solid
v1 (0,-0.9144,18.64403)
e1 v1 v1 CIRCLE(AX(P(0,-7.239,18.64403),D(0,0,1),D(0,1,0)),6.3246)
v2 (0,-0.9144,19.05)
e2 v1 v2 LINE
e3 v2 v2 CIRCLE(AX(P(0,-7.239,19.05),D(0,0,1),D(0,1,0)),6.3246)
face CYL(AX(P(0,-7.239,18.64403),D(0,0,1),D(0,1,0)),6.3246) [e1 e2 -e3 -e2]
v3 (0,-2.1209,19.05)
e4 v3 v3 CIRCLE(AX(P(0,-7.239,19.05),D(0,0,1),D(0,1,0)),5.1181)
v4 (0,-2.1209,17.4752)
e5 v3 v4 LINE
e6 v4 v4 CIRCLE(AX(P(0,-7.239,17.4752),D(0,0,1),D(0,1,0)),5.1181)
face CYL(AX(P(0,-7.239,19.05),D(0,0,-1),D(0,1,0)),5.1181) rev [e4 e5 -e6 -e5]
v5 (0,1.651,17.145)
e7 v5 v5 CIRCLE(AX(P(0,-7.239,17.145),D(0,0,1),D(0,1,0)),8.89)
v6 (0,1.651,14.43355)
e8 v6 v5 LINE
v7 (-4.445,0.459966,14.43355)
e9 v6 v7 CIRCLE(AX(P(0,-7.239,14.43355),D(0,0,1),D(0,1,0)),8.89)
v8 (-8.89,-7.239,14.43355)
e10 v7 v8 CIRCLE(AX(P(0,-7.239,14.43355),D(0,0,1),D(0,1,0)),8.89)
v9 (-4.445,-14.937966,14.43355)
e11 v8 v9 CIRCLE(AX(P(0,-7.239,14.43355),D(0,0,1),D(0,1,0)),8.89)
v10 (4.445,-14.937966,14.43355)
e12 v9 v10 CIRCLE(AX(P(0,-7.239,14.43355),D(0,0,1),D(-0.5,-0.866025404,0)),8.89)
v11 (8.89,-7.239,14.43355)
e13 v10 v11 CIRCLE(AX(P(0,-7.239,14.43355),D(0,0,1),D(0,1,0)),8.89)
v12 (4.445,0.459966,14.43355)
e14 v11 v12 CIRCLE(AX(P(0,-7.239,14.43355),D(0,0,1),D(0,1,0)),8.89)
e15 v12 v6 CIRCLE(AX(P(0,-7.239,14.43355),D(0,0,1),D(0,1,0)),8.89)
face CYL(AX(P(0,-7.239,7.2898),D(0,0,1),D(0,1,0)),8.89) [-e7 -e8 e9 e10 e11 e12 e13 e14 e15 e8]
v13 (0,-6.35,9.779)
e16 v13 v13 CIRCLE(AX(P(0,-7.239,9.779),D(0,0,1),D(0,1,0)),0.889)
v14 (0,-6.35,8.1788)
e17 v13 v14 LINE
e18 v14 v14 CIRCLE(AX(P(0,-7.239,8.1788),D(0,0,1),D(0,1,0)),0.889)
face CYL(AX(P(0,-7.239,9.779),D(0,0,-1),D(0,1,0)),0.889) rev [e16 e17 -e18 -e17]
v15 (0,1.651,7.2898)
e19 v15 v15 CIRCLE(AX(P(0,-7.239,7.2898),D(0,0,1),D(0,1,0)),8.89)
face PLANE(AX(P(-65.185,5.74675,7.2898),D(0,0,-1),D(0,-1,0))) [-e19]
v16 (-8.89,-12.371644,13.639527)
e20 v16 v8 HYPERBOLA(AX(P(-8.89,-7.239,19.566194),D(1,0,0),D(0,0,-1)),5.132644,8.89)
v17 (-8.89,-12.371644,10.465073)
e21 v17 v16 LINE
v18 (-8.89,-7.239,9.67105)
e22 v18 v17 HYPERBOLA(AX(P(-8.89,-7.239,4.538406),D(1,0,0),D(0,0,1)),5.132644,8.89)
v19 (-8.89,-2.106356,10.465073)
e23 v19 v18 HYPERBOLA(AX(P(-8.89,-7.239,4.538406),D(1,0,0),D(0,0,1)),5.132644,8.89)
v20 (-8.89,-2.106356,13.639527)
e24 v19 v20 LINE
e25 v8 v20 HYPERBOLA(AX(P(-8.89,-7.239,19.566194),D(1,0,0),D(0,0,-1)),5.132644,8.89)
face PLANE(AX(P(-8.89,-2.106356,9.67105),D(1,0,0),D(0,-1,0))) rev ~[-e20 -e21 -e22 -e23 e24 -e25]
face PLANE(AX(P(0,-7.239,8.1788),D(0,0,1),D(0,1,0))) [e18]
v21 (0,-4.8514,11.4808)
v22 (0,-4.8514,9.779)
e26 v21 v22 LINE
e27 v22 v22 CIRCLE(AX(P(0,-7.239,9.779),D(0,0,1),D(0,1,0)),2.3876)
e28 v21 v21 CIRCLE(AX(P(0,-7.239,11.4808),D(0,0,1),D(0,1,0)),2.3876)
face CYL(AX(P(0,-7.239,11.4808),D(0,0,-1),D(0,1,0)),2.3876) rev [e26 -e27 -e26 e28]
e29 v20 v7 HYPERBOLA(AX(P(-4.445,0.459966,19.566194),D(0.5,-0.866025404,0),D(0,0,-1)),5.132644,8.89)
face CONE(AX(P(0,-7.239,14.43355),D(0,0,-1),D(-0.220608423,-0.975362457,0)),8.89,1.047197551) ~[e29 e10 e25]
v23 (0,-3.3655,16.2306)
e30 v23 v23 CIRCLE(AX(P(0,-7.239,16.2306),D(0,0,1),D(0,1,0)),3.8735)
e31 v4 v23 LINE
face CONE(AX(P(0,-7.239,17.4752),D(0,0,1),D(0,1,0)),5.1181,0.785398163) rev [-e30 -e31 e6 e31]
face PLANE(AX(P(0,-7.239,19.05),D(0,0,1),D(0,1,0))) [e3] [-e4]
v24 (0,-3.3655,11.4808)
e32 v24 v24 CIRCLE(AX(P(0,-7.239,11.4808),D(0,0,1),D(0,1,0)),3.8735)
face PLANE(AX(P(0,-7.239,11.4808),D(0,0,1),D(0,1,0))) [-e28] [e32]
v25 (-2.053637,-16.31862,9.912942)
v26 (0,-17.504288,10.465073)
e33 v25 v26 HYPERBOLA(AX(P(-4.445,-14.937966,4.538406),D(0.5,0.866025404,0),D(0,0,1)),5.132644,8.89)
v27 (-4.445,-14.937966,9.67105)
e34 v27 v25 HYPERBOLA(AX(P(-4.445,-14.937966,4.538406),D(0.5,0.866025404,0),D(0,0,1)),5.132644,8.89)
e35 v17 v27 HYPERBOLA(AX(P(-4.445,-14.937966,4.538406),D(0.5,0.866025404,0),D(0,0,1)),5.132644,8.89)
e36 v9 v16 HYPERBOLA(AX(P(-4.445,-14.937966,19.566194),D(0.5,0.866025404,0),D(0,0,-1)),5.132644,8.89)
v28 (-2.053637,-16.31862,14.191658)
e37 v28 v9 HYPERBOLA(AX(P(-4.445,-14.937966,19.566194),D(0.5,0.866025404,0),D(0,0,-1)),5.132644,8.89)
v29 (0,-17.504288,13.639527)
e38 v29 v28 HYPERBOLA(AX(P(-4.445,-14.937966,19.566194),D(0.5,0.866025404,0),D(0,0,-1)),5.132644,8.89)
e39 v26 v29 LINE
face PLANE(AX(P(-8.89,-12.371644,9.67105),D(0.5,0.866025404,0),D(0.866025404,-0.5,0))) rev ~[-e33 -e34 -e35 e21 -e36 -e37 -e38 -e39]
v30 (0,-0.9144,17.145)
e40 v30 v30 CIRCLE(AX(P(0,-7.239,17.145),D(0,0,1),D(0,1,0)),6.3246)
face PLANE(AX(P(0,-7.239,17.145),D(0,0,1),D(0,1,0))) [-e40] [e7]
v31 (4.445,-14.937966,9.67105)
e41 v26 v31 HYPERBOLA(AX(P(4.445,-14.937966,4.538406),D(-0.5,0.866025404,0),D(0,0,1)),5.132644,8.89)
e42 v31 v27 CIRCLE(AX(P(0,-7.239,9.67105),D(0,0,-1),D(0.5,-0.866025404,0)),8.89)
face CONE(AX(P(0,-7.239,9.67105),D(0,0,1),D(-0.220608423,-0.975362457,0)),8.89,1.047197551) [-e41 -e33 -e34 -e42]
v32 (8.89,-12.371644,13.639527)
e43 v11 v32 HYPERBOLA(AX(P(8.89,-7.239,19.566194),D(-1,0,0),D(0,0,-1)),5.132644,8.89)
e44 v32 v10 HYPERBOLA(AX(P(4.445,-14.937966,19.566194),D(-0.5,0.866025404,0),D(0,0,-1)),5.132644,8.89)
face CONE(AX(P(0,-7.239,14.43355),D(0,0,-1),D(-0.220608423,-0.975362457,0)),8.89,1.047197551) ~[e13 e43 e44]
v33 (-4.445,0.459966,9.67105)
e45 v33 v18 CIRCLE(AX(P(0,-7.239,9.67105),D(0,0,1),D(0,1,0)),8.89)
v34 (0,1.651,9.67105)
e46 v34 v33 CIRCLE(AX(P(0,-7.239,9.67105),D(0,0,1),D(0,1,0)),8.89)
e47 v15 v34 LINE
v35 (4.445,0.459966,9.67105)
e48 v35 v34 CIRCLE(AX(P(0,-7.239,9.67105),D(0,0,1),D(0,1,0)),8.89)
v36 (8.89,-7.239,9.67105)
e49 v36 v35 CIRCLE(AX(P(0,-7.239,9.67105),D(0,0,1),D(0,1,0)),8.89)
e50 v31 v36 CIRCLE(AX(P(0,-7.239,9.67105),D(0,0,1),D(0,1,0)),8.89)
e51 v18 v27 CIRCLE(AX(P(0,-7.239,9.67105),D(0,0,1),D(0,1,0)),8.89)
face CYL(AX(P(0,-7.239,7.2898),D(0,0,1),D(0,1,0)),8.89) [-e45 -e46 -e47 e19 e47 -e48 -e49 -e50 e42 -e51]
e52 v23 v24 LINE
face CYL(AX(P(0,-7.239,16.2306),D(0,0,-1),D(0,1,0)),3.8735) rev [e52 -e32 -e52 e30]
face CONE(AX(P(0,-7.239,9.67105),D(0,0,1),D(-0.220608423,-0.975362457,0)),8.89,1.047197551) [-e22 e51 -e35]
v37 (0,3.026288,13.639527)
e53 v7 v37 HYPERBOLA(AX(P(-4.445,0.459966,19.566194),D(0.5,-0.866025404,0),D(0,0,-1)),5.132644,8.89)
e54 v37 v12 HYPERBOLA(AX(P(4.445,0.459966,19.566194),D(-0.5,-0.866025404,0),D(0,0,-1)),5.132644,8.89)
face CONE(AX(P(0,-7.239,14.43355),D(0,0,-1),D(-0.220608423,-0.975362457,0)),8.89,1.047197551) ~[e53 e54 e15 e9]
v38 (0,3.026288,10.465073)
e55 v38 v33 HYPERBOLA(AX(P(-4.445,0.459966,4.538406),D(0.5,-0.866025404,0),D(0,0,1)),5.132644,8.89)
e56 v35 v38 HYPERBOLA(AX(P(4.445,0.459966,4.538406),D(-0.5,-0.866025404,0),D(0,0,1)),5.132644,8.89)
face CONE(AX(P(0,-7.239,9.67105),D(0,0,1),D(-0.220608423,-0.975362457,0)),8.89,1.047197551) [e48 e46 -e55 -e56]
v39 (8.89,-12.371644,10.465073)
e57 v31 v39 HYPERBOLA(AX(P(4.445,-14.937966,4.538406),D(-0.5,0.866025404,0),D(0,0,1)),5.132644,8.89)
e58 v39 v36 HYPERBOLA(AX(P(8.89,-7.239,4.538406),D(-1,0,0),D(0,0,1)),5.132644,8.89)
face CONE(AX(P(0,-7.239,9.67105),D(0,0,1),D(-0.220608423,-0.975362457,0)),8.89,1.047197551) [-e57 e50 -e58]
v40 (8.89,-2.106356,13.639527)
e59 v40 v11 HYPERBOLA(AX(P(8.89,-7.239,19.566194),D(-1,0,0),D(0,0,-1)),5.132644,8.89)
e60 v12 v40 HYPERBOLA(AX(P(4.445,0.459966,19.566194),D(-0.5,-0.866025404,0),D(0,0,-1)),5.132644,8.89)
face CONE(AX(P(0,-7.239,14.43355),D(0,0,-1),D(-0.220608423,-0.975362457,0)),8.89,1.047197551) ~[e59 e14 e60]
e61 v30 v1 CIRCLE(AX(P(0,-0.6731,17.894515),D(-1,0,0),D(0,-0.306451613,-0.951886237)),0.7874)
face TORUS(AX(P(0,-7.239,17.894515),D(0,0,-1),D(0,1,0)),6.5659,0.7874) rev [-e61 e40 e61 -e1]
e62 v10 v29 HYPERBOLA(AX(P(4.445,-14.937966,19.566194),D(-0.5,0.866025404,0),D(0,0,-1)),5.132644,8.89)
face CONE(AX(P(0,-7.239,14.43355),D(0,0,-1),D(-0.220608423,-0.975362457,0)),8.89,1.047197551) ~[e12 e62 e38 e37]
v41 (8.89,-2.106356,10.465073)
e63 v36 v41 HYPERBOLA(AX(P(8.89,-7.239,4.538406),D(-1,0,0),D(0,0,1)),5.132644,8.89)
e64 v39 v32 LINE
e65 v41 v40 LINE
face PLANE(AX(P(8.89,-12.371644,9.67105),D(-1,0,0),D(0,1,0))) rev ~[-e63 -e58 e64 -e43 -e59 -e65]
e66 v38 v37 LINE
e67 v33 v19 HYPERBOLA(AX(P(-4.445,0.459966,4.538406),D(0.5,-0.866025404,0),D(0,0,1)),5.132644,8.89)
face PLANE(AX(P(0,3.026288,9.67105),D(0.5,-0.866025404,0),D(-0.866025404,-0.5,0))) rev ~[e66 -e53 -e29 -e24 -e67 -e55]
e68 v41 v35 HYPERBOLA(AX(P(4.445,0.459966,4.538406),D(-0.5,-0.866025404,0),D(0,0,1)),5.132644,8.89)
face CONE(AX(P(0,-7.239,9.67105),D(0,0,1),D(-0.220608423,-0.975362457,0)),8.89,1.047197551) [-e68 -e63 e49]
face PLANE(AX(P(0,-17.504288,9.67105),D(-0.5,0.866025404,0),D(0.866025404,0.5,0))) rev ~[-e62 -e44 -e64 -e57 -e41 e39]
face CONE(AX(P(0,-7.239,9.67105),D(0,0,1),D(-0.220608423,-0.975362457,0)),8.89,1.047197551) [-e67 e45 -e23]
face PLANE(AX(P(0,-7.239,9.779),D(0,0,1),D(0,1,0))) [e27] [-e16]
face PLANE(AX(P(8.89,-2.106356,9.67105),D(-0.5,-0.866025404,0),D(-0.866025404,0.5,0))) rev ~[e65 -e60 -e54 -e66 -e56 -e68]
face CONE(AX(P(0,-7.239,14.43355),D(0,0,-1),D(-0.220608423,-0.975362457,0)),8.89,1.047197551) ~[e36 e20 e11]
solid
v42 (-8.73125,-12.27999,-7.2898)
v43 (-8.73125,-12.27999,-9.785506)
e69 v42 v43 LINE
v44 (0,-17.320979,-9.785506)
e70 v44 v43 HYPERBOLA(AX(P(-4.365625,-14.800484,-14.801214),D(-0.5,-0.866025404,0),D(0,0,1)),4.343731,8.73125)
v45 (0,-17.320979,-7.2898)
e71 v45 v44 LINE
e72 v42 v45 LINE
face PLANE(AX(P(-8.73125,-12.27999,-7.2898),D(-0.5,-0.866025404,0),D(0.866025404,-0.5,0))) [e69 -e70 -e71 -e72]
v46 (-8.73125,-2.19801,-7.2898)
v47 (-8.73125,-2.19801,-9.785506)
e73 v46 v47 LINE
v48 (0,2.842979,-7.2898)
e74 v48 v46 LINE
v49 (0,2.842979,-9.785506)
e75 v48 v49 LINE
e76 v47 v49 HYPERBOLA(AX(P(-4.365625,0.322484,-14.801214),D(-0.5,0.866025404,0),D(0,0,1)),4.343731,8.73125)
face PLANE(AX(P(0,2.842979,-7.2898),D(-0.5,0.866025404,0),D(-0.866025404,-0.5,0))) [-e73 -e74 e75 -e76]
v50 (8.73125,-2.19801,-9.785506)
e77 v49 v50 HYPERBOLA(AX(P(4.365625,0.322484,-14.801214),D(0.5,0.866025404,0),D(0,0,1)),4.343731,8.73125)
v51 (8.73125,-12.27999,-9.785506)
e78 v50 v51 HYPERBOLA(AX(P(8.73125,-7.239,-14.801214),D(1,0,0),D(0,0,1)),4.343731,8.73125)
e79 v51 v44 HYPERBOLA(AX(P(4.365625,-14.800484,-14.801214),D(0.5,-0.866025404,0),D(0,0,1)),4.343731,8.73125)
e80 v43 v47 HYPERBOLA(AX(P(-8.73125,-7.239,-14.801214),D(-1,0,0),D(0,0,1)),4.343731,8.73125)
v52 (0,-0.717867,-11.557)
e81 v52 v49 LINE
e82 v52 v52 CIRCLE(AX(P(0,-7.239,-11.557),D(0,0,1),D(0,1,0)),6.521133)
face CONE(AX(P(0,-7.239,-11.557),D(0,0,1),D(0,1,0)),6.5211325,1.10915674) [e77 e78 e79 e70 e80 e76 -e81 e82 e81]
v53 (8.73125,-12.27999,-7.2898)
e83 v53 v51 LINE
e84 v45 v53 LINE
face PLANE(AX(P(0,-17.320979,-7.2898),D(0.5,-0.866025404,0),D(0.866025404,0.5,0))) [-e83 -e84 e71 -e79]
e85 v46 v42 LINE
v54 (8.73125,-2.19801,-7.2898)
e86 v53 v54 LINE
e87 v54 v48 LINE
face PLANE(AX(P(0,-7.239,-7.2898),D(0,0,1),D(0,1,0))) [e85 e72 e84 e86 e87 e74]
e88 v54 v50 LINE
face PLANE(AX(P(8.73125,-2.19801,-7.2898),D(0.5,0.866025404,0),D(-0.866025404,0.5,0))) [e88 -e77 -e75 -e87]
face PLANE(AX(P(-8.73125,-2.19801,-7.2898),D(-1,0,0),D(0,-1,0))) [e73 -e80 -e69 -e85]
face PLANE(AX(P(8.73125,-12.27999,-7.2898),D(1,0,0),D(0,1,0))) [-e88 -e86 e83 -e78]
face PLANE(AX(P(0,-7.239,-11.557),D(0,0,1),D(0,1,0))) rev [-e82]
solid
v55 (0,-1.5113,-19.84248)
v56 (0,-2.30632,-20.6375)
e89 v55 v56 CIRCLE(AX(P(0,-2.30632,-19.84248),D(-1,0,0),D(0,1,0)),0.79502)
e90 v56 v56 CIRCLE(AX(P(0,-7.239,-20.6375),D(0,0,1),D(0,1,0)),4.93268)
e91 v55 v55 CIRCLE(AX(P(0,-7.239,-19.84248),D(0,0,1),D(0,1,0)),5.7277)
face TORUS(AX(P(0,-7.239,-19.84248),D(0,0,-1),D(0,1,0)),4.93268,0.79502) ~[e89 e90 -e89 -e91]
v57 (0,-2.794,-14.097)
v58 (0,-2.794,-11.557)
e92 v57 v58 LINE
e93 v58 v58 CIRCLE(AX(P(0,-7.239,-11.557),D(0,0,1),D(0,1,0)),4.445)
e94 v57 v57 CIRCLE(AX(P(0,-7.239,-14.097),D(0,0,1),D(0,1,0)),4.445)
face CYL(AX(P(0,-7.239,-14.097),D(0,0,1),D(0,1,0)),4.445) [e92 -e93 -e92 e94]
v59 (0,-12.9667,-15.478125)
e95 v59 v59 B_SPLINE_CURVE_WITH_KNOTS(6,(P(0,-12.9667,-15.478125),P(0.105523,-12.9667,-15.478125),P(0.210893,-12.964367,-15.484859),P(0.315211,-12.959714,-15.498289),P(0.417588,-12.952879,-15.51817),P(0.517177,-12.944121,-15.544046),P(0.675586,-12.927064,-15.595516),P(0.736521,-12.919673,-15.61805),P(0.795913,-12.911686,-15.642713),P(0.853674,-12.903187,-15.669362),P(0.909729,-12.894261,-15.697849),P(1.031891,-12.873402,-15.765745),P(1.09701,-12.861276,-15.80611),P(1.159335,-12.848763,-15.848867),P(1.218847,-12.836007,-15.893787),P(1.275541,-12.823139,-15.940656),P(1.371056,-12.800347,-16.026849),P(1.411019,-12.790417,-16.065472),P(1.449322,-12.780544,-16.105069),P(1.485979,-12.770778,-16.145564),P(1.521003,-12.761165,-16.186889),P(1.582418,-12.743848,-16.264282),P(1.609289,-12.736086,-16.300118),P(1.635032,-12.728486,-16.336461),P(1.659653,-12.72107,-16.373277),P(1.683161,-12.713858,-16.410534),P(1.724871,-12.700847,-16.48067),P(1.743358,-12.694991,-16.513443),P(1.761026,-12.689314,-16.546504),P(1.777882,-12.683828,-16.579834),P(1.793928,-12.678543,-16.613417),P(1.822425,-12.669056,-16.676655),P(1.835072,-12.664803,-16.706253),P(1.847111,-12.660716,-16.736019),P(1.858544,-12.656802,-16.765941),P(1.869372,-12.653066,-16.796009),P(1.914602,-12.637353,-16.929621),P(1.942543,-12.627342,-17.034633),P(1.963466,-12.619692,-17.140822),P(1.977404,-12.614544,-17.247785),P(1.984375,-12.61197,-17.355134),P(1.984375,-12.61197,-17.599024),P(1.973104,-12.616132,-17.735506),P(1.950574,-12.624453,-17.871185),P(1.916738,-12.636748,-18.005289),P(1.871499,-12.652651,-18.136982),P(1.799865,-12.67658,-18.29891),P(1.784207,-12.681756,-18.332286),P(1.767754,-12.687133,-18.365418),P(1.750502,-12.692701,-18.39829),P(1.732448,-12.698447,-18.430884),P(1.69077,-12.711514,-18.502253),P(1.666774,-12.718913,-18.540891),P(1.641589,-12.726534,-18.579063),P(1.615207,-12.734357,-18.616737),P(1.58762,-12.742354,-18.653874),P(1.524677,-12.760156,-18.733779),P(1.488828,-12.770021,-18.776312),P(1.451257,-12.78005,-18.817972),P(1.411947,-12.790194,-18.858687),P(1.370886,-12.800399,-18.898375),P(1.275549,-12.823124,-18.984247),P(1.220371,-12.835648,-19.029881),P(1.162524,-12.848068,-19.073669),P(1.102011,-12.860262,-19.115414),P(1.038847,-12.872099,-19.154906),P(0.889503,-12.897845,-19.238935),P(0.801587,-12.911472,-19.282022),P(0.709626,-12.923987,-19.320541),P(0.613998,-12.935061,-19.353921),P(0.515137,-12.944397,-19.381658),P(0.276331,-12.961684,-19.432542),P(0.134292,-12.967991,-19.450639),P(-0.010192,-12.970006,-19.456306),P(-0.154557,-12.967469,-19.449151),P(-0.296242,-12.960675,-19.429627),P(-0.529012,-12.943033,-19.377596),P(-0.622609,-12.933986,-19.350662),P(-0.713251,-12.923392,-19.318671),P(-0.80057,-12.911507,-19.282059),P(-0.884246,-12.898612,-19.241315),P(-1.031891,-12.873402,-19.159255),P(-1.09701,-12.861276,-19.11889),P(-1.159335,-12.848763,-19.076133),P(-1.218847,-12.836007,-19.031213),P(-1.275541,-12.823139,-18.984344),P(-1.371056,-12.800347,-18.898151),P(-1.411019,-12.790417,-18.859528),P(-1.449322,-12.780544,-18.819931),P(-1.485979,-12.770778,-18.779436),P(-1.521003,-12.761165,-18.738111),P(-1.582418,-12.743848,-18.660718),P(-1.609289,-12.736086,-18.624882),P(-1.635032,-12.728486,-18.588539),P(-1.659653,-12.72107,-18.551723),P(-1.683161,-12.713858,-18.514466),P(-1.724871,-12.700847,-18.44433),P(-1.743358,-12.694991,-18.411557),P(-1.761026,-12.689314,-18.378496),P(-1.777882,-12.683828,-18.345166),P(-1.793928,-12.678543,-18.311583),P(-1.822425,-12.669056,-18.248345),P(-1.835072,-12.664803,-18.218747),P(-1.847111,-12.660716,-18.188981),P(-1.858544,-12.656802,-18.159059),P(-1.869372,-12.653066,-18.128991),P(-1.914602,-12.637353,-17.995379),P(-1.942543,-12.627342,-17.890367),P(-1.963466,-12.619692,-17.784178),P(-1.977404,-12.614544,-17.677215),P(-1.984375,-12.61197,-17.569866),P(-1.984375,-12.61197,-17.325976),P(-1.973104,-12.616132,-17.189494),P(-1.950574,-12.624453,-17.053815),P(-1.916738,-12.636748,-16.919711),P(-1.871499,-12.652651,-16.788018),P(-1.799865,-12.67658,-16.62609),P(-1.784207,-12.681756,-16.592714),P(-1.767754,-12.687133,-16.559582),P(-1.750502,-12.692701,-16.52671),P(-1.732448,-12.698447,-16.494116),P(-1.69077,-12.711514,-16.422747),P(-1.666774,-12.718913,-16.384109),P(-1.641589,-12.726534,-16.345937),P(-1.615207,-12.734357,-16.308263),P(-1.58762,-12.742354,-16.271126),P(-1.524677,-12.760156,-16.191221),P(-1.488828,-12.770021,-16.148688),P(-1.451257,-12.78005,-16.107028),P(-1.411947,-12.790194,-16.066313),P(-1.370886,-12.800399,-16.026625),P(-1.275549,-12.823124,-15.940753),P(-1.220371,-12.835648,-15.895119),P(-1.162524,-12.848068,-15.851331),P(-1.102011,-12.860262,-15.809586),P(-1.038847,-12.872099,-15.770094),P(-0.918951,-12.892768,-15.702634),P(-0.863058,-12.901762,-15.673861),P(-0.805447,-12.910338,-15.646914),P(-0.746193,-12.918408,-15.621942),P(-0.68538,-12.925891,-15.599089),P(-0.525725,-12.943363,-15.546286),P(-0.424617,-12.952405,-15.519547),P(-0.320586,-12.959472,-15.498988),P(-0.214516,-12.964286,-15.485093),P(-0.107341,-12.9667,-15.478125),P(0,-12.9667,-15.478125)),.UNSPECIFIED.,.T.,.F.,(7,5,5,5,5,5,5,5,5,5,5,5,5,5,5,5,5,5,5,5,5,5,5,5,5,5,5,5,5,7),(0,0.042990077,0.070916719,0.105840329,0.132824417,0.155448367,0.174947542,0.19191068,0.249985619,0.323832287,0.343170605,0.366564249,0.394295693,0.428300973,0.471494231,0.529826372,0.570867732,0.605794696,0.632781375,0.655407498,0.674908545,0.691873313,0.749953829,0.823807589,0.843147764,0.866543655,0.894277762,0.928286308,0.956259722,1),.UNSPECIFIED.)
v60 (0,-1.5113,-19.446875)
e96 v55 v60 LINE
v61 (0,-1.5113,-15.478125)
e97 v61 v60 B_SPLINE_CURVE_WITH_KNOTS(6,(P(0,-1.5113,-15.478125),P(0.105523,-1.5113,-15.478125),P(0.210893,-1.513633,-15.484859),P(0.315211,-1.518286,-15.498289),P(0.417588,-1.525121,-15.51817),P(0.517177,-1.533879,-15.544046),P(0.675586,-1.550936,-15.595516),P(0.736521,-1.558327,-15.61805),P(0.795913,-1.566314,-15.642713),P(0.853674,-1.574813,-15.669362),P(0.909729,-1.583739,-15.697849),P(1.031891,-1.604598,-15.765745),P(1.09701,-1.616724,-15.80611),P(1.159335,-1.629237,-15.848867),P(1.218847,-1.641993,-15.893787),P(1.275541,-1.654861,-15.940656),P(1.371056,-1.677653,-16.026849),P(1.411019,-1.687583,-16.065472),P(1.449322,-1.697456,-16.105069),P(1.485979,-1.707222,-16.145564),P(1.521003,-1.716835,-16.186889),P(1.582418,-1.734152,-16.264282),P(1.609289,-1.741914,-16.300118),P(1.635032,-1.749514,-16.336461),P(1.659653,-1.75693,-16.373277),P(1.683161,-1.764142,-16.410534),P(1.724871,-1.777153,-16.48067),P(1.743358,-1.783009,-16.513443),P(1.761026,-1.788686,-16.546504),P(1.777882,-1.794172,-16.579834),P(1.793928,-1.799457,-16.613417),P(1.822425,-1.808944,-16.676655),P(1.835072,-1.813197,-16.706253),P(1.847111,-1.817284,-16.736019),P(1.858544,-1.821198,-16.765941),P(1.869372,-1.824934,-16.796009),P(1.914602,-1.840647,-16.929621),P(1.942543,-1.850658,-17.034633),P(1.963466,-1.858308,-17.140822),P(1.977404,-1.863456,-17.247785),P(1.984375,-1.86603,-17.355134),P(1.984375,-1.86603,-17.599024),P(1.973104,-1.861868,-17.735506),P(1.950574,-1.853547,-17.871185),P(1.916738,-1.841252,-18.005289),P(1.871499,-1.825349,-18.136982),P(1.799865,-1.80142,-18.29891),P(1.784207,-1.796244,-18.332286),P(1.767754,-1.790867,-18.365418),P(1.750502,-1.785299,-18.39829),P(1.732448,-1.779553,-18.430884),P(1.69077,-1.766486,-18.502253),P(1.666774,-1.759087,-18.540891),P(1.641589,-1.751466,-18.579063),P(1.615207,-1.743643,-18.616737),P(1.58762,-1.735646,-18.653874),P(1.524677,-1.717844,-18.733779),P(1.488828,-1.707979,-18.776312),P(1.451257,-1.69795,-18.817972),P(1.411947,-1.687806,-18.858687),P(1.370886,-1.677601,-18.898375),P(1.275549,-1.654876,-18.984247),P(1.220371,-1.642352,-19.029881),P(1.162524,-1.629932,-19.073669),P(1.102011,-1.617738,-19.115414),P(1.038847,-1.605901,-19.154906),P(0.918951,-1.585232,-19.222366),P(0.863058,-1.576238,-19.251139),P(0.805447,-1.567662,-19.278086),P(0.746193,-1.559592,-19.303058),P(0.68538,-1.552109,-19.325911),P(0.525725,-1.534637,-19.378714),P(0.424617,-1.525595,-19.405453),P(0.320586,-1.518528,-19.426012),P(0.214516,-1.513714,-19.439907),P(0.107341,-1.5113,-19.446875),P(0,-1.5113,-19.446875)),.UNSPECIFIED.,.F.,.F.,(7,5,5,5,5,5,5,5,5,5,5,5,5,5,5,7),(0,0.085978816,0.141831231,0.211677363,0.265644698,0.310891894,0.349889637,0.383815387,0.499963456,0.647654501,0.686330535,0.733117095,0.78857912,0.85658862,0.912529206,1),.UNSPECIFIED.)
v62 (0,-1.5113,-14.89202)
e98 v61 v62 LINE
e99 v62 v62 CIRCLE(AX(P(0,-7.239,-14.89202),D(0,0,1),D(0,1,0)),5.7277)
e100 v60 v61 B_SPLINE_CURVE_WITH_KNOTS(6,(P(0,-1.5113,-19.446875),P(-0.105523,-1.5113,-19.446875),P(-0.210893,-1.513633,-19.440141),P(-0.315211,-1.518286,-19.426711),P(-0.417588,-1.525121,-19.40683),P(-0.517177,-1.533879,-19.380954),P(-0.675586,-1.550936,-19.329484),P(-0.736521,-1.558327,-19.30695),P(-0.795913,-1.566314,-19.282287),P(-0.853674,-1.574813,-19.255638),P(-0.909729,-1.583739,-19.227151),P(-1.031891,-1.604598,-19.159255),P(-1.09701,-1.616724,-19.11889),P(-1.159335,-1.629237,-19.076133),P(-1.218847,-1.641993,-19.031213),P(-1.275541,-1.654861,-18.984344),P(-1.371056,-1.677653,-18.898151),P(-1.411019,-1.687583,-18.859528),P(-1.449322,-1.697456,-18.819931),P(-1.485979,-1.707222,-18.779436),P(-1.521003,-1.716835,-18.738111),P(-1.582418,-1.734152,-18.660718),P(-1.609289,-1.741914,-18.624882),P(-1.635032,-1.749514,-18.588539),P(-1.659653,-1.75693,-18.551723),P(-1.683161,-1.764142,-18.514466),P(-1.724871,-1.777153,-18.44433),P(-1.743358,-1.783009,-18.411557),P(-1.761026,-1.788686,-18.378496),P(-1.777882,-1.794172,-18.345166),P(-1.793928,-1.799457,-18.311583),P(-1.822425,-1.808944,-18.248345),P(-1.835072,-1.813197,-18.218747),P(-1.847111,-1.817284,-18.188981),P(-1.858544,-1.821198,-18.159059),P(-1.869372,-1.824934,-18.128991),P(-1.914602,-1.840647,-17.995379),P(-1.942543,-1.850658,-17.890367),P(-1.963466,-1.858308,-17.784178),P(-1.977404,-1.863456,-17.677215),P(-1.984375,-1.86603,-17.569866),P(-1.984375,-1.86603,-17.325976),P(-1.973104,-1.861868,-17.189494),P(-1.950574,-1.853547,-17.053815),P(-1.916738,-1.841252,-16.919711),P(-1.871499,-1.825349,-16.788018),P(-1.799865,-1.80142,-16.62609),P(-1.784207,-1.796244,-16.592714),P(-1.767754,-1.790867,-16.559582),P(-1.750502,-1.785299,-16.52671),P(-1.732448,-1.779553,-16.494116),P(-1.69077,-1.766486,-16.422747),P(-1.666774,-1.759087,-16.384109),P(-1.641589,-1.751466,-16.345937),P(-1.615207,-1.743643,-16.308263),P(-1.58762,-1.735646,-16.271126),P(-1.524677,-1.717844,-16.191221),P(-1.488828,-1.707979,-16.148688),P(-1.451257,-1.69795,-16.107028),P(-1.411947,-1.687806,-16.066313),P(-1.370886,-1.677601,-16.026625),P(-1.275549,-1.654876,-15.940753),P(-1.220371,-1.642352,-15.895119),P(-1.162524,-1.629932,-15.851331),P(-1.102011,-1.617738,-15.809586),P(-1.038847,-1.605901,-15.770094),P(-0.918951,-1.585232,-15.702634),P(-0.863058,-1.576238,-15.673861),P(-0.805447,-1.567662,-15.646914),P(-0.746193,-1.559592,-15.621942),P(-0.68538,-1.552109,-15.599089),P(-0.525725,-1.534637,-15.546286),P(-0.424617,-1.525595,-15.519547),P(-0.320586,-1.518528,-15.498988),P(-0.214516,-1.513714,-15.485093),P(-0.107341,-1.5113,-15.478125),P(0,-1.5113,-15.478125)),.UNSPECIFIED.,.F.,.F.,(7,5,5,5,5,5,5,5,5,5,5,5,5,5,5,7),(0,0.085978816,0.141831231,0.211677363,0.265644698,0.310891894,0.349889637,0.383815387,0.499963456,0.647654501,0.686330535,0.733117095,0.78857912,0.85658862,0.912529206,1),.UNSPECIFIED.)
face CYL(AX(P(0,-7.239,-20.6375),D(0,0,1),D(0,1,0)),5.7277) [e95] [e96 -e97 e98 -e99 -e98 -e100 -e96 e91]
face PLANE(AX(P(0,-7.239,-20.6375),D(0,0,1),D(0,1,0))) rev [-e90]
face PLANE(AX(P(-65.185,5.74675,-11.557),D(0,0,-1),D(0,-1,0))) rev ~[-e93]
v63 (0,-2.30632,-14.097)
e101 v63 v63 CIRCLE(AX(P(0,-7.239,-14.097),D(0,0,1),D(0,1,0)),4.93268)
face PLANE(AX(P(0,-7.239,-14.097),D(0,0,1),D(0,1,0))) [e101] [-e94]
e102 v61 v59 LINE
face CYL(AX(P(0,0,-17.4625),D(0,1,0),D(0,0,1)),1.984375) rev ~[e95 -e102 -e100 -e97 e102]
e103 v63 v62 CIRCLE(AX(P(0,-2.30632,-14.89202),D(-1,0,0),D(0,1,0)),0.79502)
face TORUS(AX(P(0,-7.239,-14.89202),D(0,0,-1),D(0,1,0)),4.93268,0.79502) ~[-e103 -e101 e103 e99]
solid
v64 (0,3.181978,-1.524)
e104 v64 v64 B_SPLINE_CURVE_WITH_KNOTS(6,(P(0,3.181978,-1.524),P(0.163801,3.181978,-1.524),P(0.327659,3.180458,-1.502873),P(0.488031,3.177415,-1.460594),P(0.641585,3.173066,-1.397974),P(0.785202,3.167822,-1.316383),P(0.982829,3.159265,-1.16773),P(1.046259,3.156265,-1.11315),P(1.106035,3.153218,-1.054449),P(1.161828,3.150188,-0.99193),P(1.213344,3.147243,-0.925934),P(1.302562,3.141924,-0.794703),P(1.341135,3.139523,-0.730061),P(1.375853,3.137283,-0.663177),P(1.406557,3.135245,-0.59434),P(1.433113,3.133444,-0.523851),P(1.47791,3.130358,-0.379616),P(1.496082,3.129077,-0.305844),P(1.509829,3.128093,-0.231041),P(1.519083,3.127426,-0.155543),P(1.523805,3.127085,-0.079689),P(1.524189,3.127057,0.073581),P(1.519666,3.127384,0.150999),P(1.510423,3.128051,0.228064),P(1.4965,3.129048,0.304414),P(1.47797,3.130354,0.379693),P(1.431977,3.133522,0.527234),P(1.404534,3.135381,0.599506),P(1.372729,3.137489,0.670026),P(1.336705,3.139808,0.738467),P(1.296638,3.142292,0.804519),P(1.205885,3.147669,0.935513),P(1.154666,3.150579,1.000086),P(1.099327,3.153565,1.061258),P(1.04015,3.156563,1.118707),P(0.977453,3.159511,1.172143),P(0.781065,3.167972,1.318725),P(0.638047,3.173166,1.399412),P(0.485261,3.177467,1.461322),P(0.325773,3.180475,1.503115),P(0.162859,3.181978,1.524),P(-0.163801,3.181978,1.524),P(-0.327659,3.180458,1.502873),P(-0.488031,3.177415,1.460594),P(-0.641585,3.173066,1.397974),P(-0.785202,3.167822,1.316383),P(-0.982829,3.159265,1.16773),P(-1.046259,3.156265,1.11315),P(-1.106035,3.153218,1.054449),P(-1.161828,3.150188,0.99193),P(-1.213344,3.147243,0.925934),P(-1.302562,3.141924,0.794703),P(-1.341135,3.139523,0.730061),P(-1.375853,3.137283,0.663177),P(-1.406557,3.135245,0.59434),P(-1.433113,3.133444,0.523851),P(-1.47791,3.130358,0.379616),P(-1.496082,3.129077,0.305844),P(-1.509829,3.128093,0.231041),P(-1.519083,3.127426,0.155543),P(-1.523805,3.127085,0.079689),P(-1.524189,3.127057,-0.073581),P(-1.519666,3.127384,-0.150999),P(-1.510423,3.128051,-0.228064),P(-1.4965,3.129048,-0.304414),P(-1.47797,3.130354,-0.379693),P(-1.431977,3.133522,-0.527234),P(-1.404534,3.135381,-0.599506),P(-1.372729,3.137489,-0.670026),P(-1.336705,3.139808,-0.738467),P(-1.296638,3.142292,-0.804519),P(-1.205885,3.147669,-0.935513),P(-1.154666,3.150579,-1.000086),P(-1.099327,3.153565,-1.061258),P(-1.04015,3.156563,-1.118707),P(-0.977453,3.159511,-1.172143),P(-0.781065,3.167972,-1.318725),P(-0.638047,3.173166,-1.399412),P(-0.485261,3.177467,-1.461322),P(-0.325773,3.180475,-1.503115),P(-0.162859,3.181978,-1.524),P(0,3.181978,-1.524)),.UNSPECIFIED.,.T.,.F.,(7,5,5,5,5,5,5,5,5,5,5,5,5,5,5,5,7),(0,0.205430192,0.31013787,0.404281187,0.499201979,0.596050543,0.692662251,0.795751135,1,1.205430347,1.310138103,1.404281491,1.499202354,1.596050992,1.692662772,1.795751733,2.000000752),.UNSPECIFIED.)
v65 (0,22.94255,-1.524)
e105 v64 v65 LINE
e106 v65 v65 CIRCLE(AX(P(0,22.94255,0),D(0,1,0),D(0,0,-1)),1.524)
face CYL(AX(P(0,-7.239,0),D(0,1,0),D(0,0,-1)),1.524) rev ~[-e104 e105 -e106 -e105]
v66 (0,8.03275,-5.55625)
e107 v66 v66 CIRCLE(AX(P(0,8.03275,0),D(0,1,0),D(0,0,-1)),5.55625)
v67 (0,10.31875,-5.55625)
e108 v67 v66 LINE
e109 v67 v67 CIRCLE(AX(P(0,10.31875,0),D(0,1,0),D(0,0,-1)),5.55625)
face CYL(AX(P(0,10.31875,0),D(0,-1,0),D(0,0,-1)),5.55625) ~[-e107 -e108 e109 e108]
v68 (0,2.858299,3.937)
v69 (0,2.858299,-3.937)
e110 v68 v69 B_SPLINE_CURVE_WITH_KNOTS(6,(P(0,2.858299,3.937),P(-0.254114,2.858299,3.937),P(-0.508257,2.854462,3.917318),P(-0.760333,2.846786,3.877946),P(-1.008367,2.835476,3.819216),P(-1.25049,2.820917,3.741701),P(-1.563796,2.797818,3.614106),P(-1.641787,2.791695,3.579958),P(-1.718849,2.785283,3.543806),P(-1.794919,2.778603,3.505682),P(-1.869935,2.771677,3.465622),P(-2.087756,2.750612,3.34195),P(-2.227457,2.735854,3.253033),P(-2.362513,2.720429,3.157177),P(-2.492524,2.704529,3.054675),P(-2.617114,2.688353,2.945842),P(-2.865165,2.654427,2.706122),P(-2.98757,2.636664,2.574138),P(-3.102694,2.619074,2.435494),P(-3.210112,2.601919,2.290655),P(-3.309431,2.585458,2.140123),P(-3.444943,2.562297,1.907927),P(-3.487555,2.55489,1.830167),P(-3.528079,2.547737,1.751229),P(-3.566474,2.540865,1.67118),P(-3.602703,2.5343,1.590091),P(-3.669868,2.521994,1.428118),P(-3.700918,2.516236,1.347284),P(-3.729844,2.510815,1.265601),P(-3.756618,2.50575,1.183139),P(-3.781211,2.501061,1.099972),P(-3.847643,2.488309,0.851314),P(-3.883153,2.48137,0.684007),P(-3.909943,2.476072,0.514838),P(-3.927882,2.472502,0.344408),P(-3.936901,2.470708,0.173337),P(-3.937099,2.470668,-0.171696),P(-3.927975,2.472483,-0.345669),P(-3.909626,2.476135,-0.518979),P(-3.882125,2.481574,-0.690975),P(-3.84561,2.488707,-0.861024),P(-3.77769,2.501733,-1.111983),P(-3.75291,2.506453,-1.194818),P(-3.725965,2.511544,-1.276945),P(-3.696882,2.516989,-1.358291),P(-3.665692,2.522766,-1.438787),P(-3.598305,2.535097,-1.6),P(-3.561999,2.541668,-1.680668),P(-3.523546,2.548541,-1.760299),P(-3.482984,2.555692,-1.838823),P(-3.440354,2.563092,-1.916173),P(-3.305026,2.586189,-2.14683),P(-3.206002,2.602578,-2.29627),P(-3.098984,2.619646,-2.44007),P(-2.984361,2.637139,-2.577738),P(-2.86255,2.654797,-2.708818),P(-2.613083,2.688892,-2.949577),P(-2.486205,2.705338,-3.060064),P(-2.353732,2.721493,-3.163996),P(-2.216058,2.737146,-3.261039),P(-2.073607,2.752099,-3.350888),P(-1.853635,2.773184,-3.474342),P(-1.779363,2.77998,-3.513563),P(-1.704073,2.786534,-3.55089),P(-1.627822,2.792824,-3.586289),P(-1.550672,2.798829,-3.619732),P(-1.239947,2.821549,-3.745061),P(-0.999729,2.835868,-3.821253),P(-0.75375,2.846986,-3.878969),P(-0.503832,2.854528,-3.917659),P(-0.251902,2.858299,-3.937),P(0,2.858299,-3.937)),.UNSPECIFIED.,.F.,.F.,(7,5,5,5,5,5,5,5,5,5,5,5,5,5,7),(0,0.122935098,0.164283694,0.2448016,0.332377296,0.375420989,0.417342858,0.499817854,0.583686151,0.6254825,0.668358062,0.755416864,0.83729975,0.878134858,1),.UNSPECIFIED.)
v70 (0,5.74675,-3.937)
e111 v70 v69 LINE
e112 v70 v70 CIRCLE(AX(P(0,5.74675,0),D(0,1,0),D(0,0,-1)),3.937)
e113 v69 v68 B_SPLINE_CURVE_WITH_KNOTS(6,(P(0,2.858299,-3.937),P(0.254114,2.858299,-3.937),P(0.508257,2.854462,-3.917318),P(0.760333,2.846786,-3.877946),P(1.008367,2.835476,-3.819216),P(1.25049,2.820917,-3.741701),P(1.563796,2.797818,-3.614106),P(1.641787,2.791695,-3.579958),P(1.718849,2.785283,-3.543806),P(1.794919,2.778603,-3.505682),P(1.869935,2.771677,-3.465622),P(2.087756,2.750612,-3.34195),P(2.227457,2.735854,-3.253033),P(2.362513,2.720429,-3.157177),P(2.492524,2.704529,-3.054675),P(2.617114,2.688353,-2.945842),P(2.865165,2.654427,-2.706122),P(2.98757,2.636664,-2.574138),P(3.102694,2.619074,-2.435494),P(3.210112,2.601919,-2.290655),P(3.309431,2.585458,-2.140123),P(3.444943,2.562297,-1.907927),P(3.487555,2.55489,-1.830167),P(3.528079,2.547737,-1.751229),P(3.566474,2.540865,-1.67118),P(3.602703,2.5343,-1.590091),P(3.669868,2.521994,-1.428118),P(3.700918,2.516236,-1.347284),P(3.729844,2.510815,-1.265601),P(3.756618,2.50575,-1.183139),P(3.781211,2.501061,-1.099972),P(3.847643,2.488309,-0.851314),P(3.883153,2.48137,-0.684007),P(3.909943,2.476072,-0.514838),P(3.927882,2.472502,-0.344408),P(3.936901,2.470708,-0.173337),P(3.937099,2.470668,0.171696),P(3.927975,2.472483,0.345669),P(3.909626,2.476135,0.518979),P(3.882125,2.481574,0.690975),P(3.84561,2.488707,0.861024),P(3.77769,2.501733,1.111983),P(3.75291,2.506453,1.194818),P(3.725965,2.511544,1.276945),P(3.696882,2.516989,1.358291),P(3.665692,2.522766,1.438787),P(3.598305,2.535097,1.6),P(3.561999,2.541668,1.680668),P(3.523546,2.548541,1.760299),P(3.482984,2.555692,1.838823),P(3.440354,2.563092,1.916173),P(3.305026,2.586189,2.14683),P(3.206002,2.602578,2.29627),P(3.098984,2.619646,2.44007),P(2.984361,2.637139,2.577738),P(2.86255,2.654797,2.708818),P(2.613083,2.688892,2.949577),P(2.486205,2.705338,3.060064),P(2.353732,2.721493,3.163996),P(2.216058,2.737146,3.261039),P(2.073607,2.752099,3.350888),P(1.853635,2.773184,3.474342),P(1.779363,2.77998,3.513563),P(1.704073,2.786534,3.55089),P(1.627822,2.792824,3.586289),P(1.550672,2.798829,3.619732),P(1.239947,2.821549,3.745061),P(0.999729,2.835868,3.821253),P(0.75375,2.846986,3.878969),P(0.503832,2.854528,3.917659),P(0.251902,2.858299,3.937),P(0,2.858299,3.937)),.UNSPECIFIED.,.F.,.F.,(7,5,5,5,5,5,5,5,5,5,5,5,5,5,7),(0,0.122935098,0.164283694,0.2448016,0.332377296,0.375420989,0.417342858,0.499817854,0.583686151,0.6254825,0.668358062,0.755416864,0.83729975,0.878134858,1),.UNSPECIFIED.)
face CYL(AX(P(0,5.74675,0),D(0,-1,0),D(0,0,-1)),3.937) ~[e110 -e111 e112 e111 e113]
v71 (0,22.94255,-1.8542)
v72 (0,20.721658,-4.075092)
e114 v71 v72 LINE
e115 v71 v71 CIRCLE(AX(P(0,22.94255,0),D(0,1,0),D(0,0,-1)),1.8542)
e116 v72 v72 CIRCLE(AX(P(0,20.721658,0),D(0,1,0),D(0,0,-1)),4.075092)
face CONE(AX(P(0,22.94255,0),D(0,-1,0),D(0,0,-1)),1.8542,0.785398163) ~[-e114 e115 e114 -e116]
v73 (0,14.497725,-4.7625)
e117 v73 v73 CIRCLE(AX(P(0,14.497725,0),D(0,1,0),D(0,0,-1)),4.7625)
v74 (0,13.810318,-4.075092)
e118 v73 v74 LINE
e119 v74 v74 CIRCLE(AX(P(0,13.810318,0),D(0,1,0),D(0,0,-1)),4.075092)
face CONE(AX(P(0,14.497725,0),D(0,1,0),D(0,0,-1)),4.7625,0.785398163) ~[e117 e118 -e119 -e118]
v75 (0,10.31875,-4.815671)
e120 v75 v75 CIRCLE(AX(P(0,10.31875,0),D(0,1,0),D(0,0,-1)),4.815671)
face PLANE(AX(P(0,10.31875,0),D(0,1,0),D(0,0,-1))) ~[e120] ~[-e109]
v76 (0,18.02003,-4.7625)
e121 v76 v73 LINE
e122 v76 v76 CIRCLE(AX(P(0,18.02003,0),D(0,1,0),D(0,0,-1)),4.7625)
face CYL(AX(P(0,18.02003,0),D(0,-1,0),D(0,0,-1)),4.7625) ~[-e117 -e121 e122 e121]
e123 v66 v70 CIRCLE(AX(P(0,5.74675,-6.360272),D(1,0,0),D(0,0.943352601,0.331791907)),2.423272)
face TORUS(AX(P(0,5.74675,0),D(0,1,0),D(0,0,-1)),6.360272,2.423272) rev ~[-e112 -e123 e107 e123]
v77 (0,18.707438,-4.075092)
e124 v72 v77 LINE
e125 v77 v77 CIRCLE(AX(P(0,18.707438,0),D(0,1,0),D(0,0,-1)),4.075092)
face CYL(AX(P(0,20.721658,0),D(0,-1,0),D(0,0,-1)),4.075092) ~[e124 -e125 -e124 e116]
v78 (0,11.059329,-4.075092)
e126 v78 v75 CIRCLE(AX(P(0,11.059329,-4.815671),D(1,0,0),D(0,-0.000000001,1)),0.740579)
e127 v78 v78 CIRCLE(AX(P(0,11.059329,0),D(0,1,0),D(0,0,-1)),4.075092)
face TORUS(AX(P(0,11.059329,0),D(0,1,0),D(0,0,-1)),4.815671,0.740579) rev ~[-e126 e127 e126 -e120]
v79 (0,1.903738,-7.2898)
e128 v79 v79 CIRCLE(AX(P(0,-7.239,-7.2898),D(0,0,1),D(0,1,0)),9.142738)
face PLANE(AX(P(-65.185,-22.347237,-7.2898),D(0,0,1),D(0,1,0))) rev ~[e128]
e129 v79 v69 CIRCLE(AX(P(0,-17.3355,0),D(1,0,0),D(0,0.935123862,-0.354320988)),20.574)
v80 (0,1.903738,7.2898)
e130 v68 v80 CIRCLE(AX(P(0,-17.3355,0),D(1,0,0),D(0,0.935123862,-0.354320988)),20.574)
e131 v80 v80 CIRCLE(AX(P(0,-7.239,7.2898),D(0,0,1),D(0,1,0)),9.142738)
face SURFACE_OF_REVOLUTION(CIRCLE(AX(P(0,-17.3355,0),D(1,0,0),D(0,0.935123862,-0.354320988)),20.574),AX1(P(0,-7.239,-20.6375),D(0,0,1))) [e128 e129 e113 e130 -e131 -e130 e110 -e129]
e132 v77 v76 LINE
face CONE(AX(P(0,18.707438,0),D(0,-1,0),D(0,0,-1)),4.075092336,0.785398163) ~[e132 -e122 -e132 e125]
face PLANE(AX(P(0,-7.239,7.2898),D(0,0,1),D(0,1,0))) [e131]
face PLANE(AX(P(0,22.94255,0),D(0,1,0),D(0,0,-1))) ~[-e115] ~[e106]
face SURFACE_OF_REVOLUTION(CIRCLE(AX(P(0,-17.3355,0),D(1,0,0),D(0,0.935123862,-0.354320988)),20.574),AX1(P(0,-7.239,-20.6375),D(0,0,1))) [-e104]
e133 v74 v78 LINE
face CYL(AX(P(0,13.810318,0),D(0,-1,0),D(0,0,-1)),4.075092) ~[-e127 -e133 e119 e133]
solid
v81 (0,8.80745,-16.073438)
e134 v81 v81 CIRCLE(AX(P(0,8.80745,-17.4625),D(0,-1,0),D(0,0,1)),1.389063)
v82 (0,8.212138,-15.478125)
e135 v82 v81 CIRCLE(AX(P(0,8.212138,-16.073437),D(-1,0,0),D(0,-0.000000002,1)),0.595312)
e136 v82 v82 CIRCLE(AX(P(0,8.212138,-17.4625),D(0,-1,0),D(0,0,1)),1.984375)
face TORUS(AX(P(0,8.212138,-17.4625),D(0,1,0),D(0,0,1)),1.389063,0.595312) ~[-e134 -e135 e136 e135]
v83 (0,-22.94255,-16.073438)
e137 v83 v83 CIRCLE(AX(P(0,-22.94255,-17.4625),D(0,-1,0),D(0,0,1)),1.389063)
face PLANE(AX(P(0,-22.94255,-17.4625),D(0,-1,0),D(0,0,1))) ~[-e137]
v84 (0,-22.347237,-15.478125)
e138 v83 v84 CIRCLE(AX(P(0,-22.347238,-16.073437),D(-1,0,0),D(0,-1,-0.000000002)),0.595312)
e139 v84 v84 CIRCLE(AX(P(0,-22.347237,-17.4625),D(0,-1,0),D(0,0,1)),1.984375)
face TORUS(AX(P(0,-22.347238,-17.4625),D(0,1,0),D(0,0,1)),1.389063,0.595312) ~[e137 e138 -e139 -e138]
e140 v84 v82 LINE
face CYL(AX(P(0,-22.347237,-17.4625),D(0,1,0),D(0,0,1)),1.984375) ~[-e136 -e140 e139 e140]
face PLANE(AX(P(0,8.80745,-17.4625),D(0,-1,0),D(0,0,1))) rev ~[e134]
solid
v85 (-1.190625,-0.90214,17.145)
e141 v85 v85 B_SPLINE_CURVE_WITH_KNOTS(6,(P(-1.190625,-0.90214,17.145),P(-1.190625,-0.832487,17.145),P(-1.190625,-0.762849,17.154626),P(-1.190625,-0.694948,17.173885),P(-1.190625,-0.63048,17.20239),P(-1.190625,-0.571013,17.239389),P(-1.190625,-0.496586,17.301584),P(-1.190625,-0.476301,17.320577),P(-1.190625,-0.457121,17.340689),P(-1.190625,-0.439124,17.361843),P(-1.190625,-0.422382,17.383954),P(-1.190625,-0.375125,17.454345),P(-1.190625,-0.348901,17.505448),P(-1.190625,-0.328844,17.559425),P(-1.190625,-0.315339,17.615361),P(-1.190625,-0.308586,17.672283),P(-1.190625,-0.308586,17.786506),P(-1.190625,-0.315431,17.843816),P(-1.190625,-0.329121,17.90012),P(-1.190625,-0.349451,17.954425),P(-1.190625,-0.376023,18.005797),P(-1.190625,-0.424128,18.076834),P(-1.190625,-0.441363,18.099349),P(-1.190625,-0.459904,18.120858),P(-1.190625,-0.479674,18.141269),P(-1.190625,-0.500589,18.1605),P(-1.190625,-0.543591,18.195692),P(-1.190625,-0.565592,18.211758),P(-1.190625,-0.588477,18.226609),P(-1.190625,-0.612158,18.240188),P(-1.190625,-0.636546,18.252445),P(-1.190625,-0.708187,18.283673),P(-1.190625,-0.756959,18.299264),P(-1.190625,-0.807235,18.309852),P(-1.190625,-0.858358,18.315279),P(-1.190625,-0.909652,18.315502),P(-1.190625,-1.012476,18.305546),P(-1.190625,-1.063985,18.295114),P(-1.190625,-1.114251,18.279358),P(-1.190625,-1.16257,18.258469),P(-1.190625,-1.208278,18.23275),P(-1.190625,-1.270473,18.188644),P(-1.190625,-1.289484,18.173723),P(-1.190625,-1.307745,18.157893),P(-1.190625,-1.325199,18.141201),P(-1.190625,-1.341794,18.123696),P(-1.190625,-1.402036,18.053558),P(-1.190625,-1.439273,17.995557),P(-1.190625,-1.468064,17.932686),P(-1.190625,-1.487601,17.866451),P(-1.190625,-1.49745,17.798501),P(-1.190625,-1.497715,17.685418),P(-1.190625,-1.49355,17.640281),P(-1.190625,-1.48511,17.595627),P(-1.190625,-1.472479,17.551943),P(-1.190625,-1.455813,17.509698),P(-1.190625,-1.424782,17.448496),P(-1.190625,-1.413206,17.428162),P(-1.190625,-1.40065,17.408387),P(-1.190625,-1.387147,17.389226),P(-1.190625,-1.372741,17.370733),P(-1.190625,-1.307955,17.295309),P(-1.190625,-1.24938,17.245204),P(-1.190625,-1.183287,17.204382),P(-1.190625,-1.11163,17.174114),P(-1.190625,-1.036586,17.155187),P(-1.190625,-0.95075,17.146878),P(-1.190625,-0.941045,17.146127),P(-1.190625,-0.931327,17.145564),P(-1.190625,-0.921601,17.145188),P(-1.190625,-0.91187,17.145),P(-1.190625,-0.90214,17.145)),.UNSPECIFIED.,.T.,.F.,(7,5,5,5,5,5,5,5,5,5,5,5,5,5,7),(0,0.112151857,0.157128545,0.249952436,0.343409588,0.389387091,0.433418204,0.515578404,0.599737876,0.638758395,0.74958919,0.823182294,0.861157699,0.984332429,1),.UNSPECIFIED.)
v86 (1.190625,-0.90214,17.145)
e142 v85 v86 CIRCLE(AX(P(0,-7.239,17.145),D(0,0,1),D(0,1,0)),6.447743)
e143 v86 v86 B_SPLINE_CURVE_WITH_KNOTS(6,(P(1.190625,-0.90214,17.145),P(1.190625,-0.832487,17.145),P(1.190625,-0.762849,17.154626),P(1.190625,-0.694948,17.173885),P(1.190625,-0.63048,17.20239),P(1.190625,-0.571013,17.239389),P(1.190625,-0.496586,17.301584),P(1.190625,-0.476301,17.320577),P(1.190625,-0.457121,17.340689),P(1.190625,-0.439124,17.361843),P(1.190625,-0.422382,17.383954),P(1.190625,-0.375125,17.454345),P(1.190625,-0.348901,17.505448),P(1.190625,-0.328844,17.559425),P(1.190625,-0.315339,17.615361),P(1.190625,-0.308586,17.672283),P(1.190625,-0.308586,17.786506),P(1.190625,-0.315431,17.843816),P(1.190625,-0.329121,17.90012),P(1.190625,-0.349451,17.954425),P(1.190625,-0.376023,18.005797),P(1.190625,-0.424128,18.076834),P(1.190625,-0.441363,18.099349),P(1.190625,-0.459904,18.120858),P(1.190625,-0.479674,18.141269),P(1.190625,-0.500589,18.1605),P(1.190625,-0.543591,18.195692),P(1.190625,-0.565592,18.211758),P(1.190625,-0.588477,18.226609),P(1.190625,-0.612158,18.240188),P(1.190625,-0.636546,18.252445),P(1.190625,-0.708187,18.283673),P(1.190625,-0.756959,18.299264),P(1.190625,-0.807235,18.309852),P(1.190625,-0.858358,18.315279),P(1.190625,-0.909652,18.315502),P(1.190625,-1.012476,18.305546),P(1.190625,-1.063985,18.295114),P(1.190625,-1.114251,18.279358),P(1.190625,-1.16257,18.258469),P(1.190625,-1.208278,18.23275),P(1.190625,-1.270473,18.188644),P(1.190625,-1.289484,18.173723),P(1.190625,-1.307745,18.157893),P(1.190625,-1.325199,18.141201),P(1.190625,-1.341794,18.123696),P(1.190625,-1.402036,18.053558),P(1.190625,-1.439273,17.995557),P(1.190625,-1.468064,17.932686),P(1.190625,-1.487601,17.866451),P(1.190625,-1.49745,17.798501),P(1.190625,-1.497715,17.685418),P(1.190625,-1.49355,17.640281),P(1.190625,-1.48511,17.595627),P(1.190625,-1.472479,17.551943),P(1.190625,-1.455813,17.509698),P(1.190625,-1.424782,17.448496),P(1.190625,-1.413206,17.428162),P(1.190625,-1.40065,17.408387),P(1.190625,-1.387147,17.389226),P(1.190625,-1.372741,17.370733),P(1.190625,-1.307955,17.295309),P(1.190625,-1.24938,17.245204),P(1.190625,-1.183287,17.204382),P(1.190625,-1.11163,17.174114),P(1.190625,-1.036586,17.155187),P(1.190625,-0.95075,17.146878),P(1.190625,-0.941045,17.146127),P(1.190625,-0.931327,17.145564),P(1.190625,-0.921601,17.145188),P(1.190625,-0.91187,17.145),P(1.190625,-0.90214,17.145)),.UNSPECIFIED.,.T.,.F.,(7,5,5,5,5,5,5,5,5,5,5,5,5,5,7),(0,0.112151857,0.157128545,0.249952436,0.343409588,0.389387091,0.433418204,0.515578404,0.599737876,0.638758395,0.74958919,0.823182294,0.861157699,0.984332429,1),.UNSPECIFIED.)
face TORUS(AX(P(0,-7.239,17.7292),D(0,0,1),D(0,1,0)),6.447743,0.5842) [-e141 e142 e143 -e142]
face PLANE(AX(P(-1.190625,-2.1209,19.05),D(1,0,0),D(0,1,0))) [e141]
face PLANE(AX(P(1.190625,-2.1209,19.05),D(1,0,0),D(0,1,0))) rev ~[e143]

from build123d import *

# Parameters (mm, degrees)
SKETCH3_OUTSIDE_W      = 32.862
SKETCH3_OUTSIDE_H      = 32.862
CUT_EXTRUDE1_DEPTH     = 4.2672
BOSS_EXTRUDE1_START    = -7.47395
SKETCH4_R              = 5.1181
BOSS_EXTRUDE1_DEPTH    = 4.7625
FILLET1_R              = 0.79502
SKETCH6_R              = 1.984375
CUT_EXTRUDE2_DEPTH     = 30.14719181
SPLIT2_SURFACE_1_BACK  = 65.185
SPLIT2_SURFACE_1_DEPTH = 130.37
SPLIT2_SURFACE_2_BACK  = 65.185
SPLIT2_SURFACE_2_DEPTH = 130.37
SKETCH10_R             = 0.5842
SKETCH11_W             = 2.38125
SKETCH11_H             = 3.691809881
CUT_EXTRUDE4_DEPTH     = 5.334


with BuildPart() as part:
    # Sketch2 → Revolve1 (revolve)
    with BuildSketch(Plane(origin=(0, 0, 0), x_dir=(0, 0, -1), z_dir=(1, 0, 0))):
        with BuildLine():
            Line((-7.2898, 1.651), (-17.145, 1.651))
            Line((-17.145, 1.651), (-17.145, -0.9144))
            ThreePointArc((-17.145, -0.9144), (-17.894515223, -1.4605), (-18.644030447, -0.9144))
            Line((-18.644030447, -0.9144), (-19.05, -0.9144))
            Line((-19.05, -0.9144), (-19.05, -2.1209))
            Line((-19.05, -2.1209), (-17.4752, -2.1209))
            Line((-17.4752, -2.1209), (-16.2306, -3.3655))
            Line((-16.2306, -3.3655), (-11.4808, -3.3655))
            Line((-11.4808, -3.3655), (-11.4808, -4.8514))
            Line((-11.4808, -4.8514), (-9.779, -4.8514))
            Line((-9.779, -4.8514), (-9.779, -6.35))
            Line((-9.779, -6.35), (-8.1788, -6.35))
            Line((-8.1788, -6.35), (-8.1788, -7.239))
            Line((-8.1788, -7.239), (20.6375, -7.239))
            Line((20.6375, -7.239), (20.6375, -1.5113))
            Line((20.6375, -1.5113), (14.097, -1.5113))
            Line((14.097, -1.5113), (14.097, -2.794))
            Line((14.097, -2.794), (11.557, -2.794))
            Line((11.557, -2.794), (11.557, -0.7178675))
            Line((11.557, -0.7178675), (9.746690758, 2.921))
            Line((9.746690758, 2.921), (7.2898, 2.921))
            Line((7.2898, 2.921), (7.2898, 1.903738341))
            ThreePointArc((7.2898, 1.903738341), (0, 3.2385), (-7.2898, 1.903738341))
            Line((-7.2898, 1.903738341), (-7.2898, 1.651))
        make_face()
    revolve(axis=Axis((0, -7.239, -20.6375), (0, 0, 1)))

    # Sketch3 outside → Cut-Extrude1 (cut)
    with BuildSketch(Plane.XY.offset(-7.2898)):
        with Locations((0, -7.239)):
            Rectangle(SKETCH3_OUTSIDE_W, SKETCH3_OUTSIDE_H)
        Polygon((8.73125, -12.279989538), (8.73125, -2.198010462), (0, 2.842979076), (-8.73125, -2.198010462), (-8.73125, -12.279989538), (0, -17.320979076), align=None, mode=Mode.SUBTRACT)
    extrude(amount=-CUT_EXTRUDE1_DEPTH, mode=Mode.SUBTRACT)

    # Sketch4 → Boss-Extrude1 (add)
    with BuildSketch(Plane.XY.offset(17.145).offset(BOSS_EXTRUDE1_START)):
        Polygon((8.89, -12.371643893), (8.89, -2.106356107), (0, 3.026287786), (-8.89, -2.106356107), (-8.89, -12.371643893), (0, -17.504287786), align=None)
        with Locations(Location((0, -7.239, 0), (0, 0, 90))):
            Circle(SKETCH4_R, mode=Mode.SUBTRACT)
    extrude(amount=BOSS_EXTRUDE1_DEPTH)

    # Sketch5 → Cut-Revolve1 (revolve, cut)
    with BuildSketch(Plane(origin=(0, 0, 0), x_dir=(0, 0, -1), z_dir=(1, 0, 0)), mode=Mode.PRIVATE) as cut_revolve1_sk:
        Polygon((-14.43355, 1.651), (-12.845504453, 4.401575572), (-14.43355, 4.401575572), align=None)
        Polygon((-9.67105, 4.401575572), (-9.67105, 1.651), (-11.259095547, 4.401575572), align=None)
    revolve(cut_revolve1_sk.sketch.rotate(Axis((0, -7.239, -7.2898), (0, 0, 1)), 167.255228864), axis=Axis((0, -7.239, -7.2898), (0, 0, 1)), mode=Mode.SUBTRACT)

    # Fillet1
    fillet1_edges = [part.edges().sort_by_distance(p)[0] for p in [
        (0, -12.9667, -14.097),
        (0, -12.9667, -20.6375),
    ]]
    fillet(fillet1_edges, radius=FILLET1_R)

    # Sketch6 → Cut-Extrude2 (cut, through all)
    with BuildSketch(Plane(origin=(0, 0, 0), x_dir=(1, 0, 0), z_dir=(0, 1, 0))):
        with Locations(Location((0, 17.4625, 0), (0, 0, 270))):
            Circle(SKETCH6_R)
    extrude(amount=-CUT_EXTRUDE2_DEPTH, mode=Mode.SUBTRACT)

    # Sketch8 → Revolve3 (revolve)
    with BuildSketch(Plane(origin=(0, 0, 0), x_dir=(0, 0, -1), z_dir=(1, 0, 0))):
        with BuildLine():
            Line((3.937, 5.74675), (3.937, -7.239))
            Line((3.937, -7.239), (1.524, -7.239))
            Line((1.524, -7.239), (1.524, 22.94255))
            Line((1.524, 22.94255), (1.8542, 22.94255))
            Line((1.8542, 22.94255), (4.075092336, 20.721657664))
            Line((4.075092336, 20.721657664), (4.075092336, 18.707437664))
            Line((4.075092336, 18.707437664), (4.7625, 18.02003))
            Line((4.7625, 18.02003), (4.7625, 14.497725329))
            Line((4.7625, 14.497725329), (4.075092336, 13.810317664))
            Line((4.075092336, 13.810317664), (4.075092336, 11.059328832))
            ThreePointArc((4.075092336, 11.059328832), (4.292002854, 10.535660518), (4.815671168, 10.31875))
            Line((4.815671168, 10.31875), (5.55625, 10.31875))
            Line((5.55625, 10.31875), (5.55625, 8.03275))
            ThreePointArc((5.55625, 8.03275), (4.382822734, 7.147443271), (3.937, 5.74675))
        make_face()
    revolve(axis=Axis((0, -7.239, 0), (0, 1, 0)))


with BuildPart() as body_2:
    # Sketch7 → Revolve2 (revolve)
    with BuildSketch(Plane(origin=(0, 0, 0), x_dir=(0, 0, -1), z_dir=(1, 0, 0)), mode=Mode.PRIVATE) as revolve2_sk:
        with BuildLine():
            Line((17.4625, 8.80745), (17.4625, -22.94255))
            Line((17.4625, -22.94255), (18.8515625, -22.94255))
            ThreePointArc((18.8515625, -22.94255), (19.272512006, -22.768187006), (19.446875, -22.3472375))
            Line((19.446875, -22.3472375), (19.446875, 8.2121375))
            ThreePointArc((19.446875, 8.2121375), (19.272512006, 8.633087006), (18.8515625, 8.80745))
            Line((18.8515625, 8.80745), (17.4625, 8.80745))
        make_face()
    revolve(revolve2_sk.sketch.rotate(Axis((0, 8.80745, -17.4625), (0, -1, 0)), 180), axis=Axis((0, 8.80745, -17.4625), (0, -1, 0)))


with BuildPart() as body_3:
    # Split2: the piece behind the surface
    add(part.part)
    # Split2 surface: a surface, the sketch's curves swept straight by 130.37 mm
    with BuildLine(Plane(origin=(0, 0, 0), x_dir=(0, 0, -1), z_dir=(1, 0, 0)).offset(-SPLIT2_SURFACE_1_BACK), mode=Mode.PRIVATE) as split2_surface_1_path:
        Line((-7.2898, 5.74675), (-7.2898, -22.3472375))
        Line((-7.2898, -22.3472375), (7.2898, -22.3472375))
        Line((7.2898, -22.3472375), (7.2898, 5.74675))
        Line((7.2898, 5.74675), (11.557, 5.74675))
        Line((11.557, 5.74675), (11.557, -22.3472375))
    split2_surface_1 = Shell.extrude(split2_surface_1_path.wire(), (1 * SPLIT2_SURFACE_1_DEPTH, 0 * SPLIT2_SURFACE_1_DEPTH, 0 * SPLIT2_SURFACE_1_DEPTH))
    split(bisect_by=split2_surface_1, keep=Keep.BOTTOM)


with BuildPart() as part_1:
    add(part.part)

    # Split2: split by a surface, the side it looks to stays
    # Split2 surface: a surface, the sketch's curves swept straight by 130.37 mm
    with BuildLine(Plane(origin=(0, 0, 0), x_dir=(0, 0, -1), z_dir=(1, 0, 0)).offset(-SPLIT2_SURFACE_2_BACK), mode=Mode.PRIVATE) as split2_surface_2_path:
        Line((-7.2898, 5.74675), (-7.2898, -22.3472375))
        Line((-7.2898, -22.3472375), (7.2898, -22.3472375))
        Line((7.2898, -22.3472375), (7.2898, 5.74675))
        Line((7.2898, 5.74675), (11.557, 5.74675))
        Line((11.557, 5.74675), (11.557, -22.3472375))
    split2_surface_2 = Shell.extrude(split2_surface_2_path.wire(), (1 * SPLIT2_SURFACE_2_DEPTH, 0 * SPLIT2_SURFACE_2_DEPTH, 0 * SPLIT2_SURFACE_2_DEPTH))
    split(bisect_by=split2_surface_2, keep=Keep.TOP)


with BuildPart() as body_4:
    # Sketch10 → Revolve4 (revolve)
    with BuildSketch(Plane(origin=(0, 0, 0), x_dir=(0, 0, -1), z_dir=(1, 0, 0))):
        with Locations((-17.7292, -0.79125717)):
            Circle(SKETCH10_R)
    revolve(axis=Axis((0, -7.239, 7.2898), (0, 0, 1)))

    # Sketch11 → Cut-Extrude4 (cut)
    with BuildSketch(Plane.XY.offset(19.05)):
        with Locations((0, -0.27499506)):
            Rectangle(SKETCH11_W, SKETCH11_H)
    extrude(amount=-CUT_EXTRUDE4_DEPTH, mode=Mode.SUBTRACT)


solid = Compound([body_2.part, body_3.part, part_1.part, body_4.part])
